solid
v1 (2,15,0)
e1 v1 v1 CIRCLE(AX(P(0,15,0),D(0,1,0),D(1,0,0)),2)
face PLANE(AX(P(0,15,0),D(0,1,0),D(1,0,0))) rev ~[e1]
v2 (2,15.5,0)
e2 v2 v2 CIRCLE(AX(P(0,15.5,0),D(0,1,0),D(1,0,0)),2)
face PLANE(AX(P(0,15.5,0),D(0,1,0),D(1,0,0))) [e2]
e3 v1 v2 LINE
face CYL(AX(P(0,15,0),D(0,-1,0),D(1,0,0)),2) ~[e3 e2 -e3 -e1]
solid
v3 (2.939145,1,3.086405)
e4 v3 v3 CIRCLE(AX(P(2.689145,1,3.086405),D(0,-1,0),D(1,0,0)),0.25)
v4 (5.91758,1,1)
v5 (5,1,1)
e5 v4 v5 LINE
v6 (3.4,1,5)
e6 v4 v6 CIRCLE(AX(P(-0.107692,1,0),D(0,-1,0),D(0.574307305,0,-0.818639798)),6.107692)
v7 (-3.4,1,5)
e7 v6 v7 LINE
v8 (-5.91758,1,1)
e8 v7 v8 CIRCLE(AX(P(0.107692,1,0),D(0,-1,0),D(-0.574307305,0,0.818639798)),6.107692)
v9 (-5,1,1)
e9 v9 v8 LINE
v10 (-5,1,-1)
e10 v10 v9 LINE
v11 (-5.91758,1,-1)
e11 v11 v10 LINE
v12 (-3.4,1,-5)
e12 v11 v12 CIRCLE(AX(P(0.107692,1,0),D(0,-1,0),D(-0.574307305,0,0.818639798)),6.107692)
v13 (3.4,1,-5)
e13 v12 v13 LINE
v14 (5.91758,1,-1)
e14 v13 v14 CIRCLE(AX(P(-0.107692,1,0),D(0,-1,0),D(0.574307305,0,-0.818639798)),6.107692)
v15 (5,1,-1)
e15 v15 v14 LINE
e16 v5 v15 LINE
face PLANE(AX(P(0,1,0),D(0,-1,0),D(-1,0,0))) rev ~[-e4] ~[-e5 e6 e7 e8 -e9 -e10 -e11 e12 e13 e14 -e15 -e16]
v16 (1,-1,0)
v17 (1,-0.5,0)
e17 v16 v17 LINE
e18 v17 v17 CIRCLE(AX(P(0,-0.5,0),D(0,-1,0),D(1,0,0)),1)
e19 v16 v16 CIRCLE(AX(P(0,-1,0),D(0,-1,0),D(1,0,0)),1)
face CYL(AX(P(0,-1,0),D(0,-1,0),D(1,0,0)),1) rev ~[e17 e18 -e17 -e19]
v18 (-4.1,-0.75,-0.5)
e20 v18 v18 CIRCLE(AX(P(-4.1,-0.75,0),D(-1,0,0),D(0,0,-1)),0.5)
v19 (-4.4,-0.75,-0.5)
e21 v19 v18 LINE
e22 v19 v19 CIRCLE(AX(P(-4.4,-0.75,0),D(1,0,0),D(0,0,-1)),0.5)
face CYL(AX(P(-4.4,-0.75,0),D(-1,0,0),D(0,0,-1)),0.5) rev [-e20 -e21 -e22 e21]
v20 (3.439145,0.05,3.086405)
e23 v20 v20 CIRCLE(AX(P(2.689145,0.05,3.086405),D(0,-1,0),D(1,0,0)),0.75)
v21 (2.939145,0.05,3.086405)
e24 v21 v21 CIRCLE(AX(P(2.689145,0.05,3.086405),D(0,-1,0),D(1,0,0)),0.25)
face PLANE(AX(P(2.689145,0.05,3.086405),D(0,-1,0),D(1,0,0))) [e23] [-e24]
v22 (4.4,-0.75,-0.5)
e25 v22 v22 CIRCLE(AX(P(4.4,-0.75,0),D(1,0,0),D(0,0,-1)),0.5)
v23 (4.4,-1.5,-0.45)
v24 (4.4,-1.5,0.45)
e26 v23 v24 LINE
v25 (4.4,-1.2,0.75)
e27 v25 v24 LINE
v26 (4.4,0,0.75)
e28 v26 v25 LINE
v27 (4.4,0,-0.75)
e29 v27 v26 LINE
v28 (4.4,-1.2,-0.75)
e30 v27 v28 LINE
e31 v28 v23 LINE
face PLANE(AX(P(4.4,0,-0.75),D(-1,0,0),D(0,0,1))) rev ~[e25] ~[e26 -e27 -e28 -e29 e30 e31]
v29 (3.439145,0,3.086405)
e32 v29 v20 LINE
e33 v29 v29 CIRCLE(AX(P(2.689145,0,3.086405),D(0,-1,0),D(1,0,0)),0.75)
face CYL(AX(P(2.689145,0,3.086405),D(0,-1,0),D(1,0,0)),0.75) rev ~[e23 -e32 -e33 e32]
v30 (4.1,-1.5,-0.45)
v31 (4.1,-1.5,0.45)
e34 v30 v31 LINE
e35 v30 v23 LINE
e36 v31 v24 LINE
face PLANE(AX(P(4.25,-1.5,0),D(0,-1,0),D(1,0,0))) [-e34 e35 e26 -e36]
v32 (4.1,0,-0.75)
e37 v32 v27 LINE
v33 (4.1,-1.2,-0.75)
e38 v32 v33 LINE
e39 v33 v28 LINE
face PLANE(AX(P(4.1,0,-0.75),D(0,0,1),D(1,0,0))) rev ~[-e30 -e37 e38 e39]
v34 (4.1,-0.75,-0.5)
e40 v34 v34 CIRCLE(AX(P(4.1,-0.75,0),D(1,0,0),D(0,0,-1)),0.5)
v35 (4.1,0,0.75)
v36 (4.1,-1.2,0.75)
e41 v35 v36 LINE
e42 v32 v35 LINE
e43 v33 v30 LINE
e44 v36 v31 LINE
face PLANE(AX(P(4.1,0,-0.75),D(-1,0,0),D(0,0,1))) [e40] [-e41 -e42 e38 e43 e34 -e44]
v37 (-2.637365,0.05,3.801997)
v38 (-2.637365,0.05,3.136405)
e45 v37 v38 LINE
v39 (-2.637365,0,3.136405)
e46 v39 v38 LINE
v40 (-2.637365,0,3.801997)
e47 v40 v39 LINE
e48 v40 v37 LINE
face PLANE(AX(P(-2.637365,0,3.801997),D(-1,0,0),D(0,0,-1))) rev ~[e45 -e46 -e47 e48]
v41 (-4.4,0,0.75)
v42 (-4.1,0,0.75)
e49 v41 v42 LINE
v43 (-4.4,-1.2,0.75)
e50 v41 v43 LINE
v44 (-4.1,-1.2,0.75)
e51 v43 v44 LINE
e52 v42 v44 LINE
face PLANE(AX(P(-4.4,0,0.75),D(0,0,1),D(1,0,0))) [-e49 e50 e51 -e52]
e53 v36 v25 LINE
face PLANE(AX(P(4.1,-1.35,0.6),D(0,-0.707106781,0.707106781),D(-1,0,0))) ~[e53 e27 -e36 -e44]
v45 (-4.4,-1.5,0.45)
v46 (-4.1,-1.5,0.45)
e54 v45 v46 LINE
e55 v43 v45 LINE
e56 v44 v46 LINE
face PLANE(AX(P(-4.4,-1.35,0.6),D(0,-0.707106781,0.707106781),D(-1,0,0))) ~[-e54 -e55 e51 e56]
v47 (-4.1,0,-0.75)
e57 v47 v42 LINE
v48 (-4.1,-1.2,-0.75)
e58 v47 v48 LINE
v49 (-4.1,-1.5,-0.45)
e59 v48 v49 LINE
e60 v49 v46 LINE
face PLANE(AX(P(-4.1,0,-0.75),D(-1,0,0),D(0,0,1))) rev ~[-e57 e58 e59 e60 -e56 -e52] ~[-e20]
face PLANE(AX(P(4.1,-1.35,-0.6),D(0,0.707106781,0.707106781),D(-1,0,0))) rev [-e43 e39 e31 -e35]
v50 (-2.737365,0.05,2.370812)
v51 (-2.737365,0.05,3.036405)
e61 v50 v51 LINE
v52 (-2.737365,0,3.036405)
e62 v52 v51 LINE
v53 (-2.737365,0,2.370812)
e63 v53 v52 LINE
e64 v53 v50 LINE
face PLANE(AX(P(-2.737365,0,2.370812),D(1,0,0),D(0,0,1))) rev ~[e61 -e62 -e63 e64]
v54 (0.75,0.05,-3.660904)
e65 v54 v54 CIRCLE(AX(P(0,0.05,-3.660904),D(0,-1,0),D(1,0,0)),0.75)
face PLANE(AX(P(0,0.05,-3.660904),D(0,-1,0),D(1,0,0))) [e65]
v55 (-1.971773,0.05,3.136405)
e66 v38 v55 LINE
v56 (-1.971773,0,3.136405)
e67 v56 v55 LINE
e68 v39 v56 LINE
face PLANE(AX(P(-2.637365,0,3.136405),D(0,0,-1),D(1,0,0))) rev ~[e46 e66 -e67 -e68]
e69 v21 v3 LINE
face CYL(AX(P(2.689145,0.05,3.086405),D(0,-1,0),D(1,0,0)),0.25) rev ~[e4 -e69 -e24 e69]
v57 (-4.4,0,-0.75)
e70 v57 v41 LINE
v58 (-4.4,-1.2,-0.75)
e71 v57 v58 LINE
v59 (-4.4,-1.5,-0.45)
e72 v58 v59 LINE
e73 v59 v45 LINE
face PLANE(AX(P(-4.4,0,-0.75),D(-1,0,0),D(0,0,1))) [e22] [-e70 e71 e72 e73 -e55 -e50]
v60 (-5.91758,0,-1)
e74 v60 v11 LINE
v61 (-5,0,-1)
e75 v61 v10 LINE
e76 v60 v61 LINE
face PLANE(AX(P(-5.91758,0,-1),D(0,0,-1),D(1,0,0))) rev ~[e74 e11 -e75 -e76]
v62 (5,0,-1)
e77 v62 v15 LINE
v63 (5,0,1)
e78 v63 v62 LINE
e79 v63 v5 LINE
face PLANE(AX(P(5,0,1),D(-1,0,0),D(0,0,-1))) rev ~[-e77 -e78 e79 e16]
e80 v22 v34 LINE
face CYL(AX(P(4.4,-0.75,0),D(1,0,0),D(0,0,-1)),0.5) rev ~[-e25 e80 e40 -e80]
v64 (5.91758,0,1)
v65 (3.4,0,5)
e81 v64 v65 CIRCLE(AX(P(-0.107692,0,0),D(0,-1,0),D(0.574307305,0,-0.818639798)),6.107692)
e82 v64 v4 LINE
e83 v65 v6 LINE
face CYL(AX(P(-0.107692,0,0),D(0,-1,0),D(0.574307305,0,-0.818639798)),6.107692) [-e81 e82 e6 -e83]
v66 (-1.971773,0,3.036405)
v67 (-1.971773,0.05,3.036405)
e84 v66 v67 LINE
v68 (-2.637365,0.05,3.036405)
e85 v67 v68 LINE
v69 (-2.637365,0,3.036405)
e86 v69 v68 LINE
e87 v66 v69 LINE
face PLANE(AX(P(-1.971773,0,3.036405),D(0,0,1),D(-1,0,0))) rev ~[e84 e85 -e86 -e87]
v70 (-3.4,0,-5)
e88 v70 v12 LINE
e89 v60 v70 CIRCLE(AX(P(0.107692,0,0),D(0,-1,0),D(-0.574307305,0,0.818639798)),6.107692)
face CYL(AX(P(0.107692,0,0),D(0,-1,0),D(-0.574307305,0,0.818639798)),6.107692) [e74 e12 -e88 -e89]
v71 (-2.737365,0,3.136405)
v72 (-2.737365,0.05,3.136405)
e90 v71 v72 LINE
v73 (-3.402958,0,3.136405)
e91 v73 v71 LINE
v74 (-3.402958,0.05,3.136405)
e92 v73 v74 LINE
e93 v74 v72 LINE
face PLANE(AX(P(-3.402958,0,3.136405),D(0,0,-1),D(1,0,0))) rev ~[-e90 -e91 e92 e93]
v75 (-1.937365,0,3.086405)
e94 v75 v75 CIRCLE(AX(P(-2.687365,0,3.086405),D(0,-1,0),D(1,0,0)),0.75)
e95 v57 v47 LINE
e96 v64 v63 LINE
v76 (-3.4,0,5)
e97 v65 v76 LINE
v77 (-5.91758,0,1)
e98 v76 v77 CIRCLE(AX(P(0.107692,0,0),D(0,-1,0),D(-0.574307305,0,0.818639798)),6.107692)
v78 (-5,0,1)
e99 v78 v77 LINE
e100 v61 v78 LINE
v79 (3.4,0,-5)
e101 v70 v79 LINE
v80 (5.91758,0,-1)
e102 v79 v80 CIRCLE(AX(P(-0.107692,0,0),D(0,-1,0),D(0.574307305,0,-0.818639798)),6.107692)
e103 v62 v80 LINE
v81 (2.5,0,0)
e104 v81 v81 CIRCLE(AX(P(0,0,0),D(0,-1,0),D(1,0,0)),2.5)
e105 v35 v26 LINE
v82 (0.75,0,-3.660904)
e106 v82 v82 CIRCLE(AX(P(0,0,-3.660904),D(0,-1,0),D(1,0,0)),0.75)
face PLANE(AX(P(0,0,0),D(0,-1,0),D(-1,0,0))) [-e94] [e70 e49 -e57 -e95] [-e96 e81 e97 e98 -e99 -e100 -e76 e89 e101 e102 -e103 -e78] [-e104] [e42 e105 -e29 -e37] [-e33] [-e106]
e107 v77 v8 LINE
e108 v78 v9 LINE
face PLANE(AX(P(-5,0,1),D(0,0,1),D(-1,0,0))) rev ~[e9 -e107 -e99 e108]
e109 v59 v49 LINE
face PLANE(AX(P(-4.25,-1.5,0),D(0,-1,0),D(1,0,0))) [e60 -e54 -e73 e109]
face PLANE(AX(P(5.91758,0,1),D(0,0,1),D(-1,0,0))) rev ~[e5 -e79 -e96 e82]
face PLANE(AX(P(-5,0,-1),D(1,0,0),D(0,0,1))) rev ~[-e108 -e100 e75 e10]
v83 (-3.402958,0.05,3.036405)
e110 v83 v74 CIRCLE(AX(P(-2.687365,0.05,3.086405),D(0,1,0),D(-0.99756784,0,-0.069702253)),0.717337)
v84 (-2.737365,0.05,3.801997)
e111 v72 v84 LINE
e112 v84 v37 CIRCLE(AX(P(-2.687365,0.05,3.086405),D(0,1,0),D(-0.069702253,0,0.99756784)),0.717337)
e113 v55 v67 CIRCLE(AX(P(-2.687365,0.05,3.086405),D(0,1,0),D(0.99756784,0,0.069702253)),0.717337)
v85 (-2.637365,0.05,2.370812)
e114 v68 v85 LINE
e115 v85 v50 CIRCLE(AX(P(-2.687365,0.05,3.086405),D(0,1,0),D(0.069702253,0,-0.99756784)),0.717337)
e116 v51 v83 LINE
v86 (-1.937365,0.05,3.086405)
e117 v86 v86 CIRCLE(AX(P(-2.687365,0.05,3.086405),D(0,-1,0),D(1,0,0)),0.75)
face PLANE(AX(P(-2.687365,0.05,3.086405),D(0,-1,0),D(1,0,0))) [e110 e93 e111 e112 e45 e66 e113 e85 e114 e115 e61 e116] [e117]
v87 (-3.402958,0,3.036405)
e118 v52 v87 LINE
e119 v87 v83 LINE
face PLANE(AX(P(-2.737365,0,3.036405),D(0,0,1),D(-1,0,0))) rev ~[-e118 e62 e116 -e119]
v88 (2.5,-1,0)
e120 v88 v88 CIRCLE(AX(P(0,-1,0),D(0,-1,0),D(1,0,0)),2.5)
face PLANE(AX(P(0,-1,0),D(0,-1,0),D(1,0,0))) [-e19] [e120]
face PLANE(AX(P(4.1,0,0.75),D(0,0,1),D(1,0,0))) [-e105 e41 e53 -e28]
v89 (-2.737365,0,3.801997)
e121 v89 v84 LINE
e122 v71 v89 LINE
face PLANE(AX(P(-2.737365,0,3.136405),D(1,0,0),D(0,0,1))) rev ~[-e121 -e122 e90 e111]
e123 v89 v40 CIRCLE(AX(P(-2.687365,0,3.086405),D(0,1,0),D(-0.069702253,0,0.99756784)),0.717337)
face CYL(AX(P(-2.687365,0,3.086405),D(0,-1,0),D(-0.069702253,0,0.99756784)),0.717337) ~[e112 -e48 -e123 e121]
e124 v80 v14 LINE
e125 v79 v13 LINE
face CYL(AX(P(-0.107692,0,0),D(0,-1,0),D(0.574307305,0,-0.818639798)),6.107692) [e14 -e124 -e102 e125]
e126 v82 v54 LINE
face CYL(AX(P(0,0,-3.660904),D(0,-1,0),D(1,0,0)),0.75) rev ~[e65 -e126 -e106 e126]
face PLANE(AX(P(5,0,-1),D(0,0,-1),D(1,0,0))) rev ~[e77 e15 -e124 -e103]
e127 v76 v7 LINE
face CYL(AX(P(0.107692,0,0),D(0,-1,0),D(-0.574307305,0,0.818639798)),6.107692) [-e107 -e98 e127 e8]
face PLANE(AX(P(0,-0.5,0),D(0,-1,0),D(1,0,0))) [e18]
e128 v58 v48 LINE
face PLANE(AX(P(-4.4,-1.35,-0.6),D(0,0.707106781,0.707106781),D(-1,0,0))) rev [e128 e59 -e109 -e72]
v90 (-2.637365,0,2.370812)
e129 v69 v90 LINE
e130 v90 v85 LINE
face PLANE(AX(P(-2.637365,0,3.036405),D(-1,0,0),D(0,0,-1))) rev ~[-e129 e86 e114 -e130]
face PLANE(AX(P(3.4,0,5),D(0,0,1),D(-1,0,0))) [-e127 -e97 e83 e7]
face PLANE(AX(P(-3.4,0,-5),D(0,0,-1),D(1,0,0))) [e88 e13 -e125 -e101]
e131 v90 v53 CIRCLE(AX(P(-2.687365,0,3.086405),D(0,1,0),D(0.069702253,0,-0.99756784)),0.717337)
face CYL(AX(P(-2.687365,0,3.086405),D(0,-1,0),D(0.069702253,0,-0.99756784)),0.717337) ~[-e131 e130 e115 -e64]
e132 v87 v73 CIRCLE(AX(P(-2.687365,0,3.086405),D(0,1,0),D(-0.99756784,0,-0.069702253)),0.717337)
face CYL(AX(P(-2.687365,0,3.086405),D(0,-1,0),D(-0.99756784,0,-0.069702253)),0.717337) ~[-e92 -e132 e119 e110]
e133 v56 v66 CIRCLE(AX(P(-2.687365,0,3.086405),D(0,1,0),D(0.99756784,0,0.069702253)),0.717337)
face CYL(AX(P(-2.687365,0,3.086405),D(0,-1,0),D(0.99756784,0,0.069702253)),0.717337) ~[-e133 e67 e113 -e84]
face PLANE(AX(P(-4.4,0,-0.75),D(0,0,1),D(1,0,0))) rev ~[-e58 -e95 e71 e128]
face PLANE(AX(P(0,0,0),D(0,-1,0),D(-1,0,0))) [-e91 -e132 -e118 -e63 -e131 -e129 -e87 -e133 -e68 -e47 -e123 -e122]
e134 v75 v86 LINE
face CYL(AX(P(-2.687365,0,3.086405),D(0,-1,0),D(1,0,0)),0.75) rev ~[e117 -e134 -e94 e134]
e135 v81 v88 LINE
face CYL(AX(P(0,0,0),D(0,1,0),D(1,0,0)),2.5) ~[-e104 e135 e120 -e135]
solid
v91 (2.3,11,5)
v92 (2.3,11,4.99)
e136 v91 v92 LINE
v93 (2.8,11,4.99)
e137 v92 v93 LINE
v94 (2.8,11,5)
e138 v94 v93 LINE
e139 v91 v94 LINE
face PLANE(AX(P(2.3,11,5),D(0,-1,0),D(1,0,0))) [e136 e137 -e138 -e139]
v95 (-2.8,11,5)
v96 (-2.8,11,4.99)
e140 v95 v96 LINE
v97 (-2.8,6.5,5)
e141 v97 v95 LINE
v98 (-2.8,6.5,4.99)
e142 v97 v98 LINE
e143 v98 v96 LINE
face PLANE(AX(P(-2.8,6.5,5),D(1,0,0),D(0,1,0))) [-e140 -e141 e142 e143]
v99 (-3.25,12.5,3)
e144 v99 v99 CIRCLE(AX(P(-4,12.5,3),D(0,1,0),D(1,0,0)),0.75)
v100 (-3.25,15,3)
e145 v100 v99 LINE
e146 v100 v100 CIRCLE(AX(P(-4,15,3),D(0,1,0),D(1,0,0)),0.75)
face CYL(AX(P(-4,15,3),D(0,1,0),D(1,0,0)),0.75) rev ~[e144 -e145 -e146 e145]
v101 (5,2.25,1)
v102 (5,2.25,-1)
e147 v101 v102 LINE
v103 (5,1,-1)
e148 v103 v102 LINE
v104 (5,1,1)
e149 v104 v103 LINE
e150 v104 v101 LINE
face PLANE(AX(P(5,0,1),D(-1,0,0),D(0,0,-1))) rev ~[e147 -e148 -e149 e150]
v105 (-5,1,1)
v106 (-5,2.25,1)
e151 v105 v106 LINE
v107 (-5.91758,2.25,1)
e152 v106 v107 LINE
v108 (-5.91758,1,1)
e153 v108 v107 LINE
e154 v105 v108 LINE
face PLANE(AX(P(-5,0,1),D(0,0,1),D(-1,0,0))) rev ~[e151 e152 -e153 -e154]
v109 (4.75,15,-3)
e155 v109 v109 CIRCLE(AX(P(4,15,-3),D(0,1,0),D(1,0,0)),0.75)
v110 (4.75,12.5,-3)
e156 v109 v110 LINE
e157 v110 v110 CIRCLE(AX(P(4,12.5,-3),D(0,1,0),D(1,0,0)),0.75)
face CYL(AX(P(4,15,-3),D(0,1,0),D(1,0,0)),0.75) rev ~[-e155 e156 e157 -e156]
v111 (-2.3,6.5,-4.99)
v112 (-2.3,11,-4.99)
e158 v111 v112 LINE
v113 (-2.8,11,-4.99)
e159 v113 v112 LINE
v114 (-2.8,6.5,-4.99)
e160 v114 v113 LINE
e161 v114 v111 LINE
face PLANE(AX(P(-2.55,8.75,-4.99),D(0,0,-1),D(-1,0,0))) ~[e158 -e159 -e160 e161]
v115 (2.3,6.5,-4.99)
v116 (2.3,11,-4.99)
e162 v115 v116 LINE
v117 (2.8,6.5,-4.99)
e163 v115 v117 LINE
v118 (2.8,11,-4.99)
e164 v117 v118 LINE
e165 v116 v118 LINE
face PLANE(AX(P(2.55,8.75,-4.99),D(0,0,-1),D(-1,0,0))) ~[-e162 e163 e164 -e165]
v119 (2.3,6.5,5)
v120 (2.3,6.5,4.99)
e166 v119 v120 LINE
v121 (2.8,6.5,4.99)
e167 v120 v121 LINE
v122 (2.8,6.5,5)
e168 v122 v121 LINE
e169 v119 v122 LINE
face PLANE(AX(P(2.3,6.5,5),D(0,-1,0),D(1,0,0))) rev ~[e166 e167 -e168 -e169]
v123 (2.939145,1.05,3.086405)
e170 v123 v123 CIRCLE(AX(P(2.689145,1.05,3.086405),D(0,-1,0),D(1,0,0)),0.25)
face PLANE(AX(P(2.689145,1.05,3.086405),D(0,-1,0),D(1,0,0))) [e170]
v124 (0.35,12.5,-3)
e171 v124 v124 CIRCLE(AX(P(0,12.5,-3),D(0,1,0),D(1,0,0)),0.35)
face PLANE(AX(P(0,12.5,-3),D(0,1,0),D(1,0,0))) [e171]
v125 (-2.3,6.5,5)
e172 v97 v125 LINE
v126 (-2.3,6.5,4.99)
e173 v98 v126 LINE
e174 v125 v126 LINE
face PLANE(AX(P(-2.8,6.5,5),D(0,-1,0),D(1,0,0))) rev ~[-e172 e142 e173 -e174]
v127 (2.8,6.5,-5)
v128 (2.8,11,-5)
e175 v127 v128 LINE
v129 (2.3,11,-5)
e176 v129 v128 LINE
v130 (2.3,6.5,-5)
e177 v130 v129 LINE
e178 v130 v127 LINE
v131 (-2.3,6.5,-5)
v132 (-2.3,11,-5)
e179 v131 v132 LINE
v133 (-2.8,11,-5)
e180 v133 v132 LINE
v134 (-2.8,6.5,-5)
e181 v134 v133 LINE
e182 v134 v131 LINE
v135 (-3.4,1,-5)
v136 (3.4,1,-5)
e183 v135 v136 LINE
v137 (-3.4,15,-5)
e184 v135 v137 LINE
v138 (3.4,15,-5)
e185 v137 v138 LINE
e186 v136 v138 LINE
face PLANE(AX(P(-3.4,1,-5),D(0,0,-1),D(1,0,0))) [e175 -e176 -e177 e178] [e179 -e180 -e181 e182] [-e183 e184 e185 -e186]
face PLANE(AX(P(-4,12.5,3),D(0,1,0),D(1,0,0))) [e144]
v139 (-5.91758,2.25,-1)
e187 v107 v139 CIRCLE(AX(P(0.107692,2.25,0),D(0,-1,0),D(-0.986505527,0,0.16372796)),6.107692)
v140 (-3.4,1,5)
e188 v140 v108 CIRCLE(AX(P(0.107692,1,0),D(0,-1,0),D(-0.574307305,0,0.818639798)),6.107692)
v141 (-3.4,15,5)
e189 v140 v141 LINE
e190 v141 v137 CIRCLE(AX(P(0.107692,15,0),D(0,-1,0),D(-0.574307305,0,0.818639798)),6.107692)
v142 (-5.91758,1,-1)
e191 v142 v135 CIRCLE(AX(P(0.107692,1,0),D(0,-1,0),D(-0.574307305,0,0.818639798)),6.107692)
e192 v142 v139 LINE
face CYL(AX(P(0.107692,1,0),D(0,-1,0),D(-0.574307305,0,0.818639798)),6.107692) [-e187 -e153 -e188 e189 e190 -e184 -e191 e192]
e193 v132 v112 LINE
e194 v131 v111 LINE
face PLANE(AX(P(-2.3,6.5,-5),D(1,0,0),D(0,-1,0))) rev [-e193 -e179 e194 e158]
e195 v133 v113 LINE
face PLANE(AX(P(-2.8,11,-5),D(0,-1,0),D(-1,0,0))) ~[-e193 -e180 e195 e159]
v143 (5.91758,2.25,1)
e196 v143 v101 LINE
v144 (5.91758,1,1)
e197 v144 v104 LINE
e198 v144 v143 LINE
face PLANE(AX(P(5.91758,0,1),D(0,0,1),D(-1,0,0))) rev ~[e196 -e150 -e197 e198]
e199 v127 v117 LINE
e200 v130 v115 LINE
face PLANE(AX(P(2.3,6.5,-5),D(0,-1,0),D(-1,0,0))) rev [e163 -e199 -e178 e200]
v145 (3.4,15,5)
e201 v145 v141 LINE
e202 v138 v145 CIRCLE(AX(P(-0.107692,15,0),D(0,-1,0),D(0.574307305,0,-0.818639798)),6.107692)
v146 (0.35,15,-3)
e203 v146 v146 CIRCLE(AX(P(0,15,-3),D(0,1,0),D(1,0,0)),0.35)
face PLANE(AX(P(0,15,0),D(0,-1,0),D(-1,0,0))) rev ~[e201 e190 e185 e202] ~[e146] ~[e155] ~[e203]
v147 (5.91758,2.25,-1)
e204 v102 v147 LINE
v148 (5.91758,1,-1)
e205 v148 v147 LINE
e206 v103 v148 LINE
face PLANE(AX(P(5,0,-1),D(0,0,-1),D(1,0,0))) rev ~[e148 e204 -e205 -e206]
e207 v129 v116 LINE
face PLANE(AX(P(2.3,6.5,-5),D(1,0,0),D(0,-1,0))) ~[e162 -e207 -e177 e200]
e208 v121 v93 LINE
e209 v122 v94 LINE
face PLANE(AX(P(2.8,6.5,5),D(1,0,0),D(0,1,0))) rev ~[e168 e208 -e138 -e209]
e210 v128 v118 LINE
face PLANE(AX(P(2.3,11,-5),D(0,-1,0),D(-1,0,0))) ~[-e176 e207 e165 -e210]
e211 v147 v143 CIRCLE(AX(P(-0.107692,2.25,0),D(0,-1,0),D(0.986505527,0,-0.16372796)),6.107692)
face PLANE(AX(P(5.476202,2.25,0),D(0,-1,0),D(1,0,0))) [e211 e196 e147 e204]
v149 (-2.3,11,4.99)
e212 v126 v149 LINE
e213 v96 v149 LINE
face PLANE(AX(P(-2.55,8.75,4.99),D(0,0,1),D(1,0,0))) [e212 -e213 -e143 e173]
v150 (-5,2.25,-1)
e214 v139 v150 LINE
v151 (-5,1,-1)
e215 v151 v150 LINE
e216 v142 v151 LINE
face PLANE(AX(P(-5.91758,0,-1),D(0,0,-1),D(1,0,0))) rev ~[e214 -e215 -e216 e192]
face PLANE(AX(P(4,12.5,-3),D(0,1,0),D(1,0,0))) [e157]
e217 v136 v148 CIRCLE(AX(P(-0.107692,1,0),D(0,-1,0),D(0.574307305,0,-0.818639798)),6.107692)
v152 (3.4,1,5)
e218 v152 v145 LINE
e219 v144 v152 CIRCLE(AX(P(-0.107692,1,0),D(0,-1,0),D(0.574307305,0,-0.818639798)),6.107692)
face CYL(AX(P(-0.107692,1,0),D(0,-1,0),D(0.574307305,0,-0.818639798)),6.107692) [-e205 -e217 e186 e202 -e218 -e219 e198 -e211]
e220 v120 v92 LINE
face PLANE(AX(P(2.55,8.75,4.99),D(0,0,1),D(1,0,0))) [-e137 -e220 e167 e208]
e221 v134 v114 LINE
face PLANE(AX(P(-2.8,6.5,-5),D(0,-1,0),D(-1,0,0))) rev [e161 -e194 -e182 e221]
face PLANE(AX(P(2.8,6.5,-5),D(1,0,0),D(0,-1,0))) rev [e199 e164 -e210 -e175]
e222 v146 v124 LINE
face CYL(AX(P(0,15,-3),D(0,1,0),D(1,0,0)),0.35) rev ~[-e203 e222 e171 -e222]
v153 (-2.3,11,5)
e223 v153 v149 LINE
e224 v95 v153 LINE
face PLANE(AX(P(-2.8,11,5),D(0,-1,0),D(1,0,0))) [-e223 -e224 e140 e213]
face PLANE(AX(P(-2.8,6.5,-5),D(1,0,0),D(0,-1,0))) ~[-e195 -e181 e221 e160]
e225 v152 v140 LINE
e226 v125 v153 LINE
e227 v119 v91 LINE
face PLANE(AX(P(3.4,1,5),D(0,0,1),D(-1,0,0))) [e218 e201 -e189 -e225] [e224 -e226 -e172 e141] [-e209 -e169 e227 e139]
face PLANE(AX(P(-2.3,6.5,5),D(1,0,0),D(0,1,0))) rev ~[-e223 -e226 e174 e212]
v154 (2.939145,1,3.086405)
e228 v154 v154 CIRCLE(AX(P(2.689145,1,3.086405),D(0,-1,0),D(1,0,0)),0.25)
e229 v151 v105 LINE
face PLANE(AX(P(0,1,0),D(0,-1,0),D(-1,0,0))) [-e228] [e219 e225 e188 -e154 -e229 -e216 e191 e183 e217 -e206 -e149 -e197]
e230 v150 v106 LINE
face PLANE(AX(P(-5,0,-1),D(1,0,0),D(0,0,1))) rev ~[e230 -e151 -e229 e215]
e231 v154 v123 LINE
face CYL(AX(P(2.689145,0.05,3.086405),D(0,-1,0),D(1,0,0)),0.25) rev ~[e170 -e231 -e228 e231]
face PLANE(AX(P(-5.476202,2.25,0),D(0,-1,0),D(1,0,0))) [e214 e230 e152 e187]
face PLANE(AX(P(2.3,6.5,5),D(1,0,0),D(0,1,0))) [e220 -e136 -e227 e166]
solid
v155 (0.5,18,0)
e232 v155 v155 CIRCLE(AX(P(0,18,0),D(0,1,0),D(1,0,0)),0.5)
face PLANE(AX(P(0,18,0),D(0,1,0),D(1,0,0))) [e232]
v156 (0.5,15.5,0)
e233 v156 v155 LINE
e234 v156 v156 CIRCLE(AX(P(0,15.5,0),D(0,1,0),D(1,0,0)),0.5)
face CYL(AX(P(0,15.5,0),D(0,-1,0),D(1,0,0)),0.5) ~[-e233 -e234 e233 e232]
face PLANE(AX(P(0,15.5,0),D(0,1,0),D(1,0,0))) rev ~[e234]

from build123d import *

# Parameters (mm, degrees)
SALIENTE_EXTRUIR1_DEPTH = 1
SALIENTE_EXTRUIR2_DEPTH = 14
CROQUIS3_W              = 0.5
CROQUIS3_H              = 4.5
CORTAR_EXTRUIR1_DEPTH   = 0.01
CORTAR_EXTRUIR2_DEPTH   = 2.25
CROQUIS5_R              = 2.5
SALIENTE_EXTRUIR3_DEPTH = 1
CROQUIS6_R              = 1
CORTAR_EXTRUIR3_DEPTH   = 0.5
CROQUIS7_W              = 0.3
CROQUIS7_H              = 1.5
SALIENTE_EXTRUIR4_DEPTH = 1.5
CROQUIS8_R              = 0.5
CORTAR_EXTRUIR4_DEPTH   = 1
CHAFL_N1_SIZE           = 0.3
CROQUIS9_R              = 0.75
CORTAR_EXTRUIR5_DEPTH   = 0.05
CROQUIS10_R             = 0.25
CORTAR_EXTRUIR6_DEPTH   = 1
CROQUIS11_R             = 0.75
CORTAR_EXTRUIR7_DEPTH   = 0.05
CROQUIS12_R             = 2
SALIENTE_EXTRUIR5_DEPTH = 0.5
CROQUIS13_R             = 0.5
SALIENTE_EXTRUIR6_DEPTH = 2.5
CROQUIS14_R             = 0.75
CROQUIS14_R_2           = 0.35
CORTAR_EXTRUIR8_DEPTH   = 2.5


with BuildPart() as part:
    # Croquis1 → Saliente-Extruir1 (new body)
    with BuildSketch(Plane(origin=(0, 0, 0), x_dir=(1, 0, 0), z_dir=(0, 1, 0))):
        with BuildLine():
            Line((-3.4, 5), (3.4, 5))
            ThreePointArc((3.4, 5), (6, 0), (3.4, -5))
            Line((3.4, -5), (-3.4, -5))
            ThreePointArc((-3.4, -5), (-6, 0), (-3.4, 5))
        make_face()
    extrude(amount=SALIENTE_EXTRUIR1_DEPTH)


with BuildPart() as body_2:
    # Croquis2 → Saliente-Extruir2 (new body)
    with BuildSketch(Plane(origin=(0, 1, 0), x_dir=(1, 0, 0), z_dir=(0, 1, 0))):
        with BuildLine():
            Line((-3.4, 5), (3.4, 5))
            ThreePointArc((3.4, 5), (6, 0), (3.4, -5))
            Line((3.4, -5), (-3.4, -5))
            ThreePointArc((-3.4, -5), (-6, 0), (-3.4, 5))
        make_face()
    extrude(amount=SALIENTE_EXTRUIR2_DEPTH)

    # Croquis3 → Cortar-Extruir1 (cut)
    with BuildSketch(Plane.XY.offset(5)):
        with Locations((-2.55, 8.75)):
            Rectangle(CROQUIS3_W, CROQUIS3_H)
        with Locations((2.55, 8.75)):
            Rectangle(CROQUIS3_W, CROQUIS3_H)
    cortar_extruir1 = extrude(amount=-CORTAR_EXTRUIR1_DEPTH, mode=Mode.SUBTRACT)

    # Simetría2: Cortar-Extruir1 across plane
    add(cortar_extruir1.mirror(Plane.XY), mode=Mode.SUBTRACT)


with BuildPart() as cortar_extruir2_tool:
    # Croquis4 → Cortar-Extruir2 (new body)
    with BuildSketch(Plane.XZ):
        with BuildLine():
            Line((5, 1), (5, -1))
            Line((5, -1), (5.917579912, -1))
            ThreePointArc((5.917579912, -1), (6, 0), (5.917579912, 1))
            Line((5.917579912, 1), (5, 1))
        make_face()
        with BuildLine():
            Line((-5, 1), (-5.917579912, 1))
            ThreePointArc((-5.917579912, 1), (-6, 0), (-5.917579912, -1))
            Line((-5.917579912, -1), (-5, -1))
            Line((-5, -1), (-5, 1))
        make_face()
    extrude(amount=-CORTAR_EXTRUIR2_DEPTH)


with BuildPart() as part_1:
    add(part.part)

    # Cortar-Extruir2: cut by cortar_extruir2_tool
    add(cortar_extruir2_tool.part, mode=Mode.SUBTRACT)

    # Croquis5 → Saliente-Extruir3 (add)
    with BuildSketch(Plane.XZ):
        Circle(CROQUIS5_R)
    extrude(amount=SALIENTE_EXTRUIR3_DEPTH)

    # Croquis6 → Cortar-Extruir3 (cut)
    with BuildSketch(Plane.XZ.offset(1)):
        Circle(CROQUIS6_R)
    extrude(amount=-CORTAR_EXTRUIR3_DEPTH, mode=Mode.SUBTRACT)

    # Croquis7 → Saliente-Extruir4 (add)
    with BuildSketch(Plane.XZ):
        with Locations((4.25, 0)):
            Rectangle(CROQUIS7_W, CROQUIS7_H)
        with Locations((-4.25, 0)):
            Rectangle(CROQUIS7_W, CROQUIS7_H)
    extrude(amount=SALIENTE_EXTRUIR4_DEPTH)

    # Croquis8 → Cortar-Extruir4 (cut)
    with BuildSketch(Plane(origin=(4.4, 0, 0), x_dir=(0, 0, -1), z_dir=(1, 0, 0))):
        with Locations((0, -0.75)):
            Circle(CROQUIS8_R)
    cortar_extruir4 = extrude(amount=-CORTAR_EXTRUIR4_DEPTH, mode=Mode.SUBTRACT)

    # Simetría3: Cortar-Extruir4 across plane
    add(cortar_extruir4.mirror(Plane(origin=(0, 0, 0), x_dir=(0, 0, 1), z_dir=(1, 0, 0))), mode=Mode.SUBTRACT)

    # Chaflán1
    chafl_n1_edges = [part_1.edges().sort_by_distance(p)[0] for p in [
        (4.25, -1.5, 0.75),
        (4.25, -1.5, -0.75),
        (-4.25, -1.5, 0.75),
        (-4.25, -1.5, -0.75),
    ]]
    chamfer(chafl_n1_edges, length=CHAFL_N1_SIZE)

    # Croquis9 → Cortar-Extruir5 (cut)
    with BuildSketch(Plane.XZ):
        with Locations((2.689144547, 3.086404537)):
            Circle(CROQUIS9_R)
        with Locations((0, -3.660903599)):
            Circle(CROQUIS9_R)
    extrude(amount=-CORTAR_EXTRUIR5_DEPTH, mode=Mode.SUBTRACT)


with BuildPart() as body_2_1:
    add(body_2.part)

    # Cortar-Extruir2: cut by cortar_extruir2_tool
    add(cortar_extruir2_tool.part, mode=Mode.SUBTRACT)


with BuildPart() as cortar_extruir6_tool:
    # Croquis10 → Cortar-Extruir6 (new body)
    with BuildSketch(Plane.XZ.offset(-0.05)):
        with Locations((2.689144547, 3.086404537)):
            Circle(CROQUIS10_R)
    extrude(amount=-CORTAR_EXTRUIR6_DEPTH)


with BuildPart() as part_2:
    add(part_1.part)

    # Cortar-Extruir6: cut by cortar_extruir6_tool
    add(cortar_extruir6_tool.part, mode=Mode.SUBTRACT)

    # Croquis11 → Cortar-Extruir7 (cut)
    with BuildSketch(Plane.XZ):
        with Locations((-2.687365336, 3.086404537)):
            Circle(CROQUIS11_R)
        with BuildLine():
            Line((-2.637365336, 3.794778488), (-2.637365336, 3.136404537))
            Line((-2.637365336, 3.136404537), (-1.97177306, 3.136404537))
            ThreePointArc((-1.97177306, 3.136404537), (-1.970028382, 3.086404537), (-1.97177306, 3.036404537))
            Line((-1.97177306, 3.036404537), (-2.637365336, 3.036404537))
            Line((-2.637365336, 3.036404537), (-2.637365336, 2.378030586))
            Line((-2.637365336, 2.378030586), (-2.637365336, 2.370812261))
            ThreePointArc((-2.637365336, 2.370812261), (-2.687365336, 2.369067583), (-2.737365336, 2.370812261))
            Line((-2.737365336, 2.370812261), (-2.737365336, 2.378030586))
            Line((-2.737365336, 2.378030586), (-2.737365336, 3.036404537))
            Line((-2.737365336, 3.036404537), (-3.402957612, 3.036404537))
            ThreePointArc((-3.402957612, 3.036404537), (-3.40470229, 3.086404537), (-3.402957612, 3.136404537))
            Line((-3.402957612, 3.136404537), (-2.737365336, 3.136404537))
            Line((-2.737365336, 3.136404537), (-2.737365336, 3.794778488))
            Line((-2.737365336, 3.794778488), (-2.737365336, 3.801996813))
            ThreePointArc((-2.737365336, 3.801996813), (-2.687365336, 3.803741491), (-2.637365336, 3.801996813))
            Line((-2.637365336, 3.801996813), (-2.637365336, 3.794778488))
        make_face(mode=Mode.SUBTRACT)
    extrude(amount=-CORTAR_EXTRUIR7_DEPTH, mode=Mode.SUBTRACT)


with BuildPart() as body_2_2:
    add(body_2_1.part)

    # Cortar-Extruir6: cut by cortar_extruir6_tool
    add(cortar_extruir6_tool.part, mode=Mode.SUBTRACT)

    # Croquis14 → Cortar-Extruir8 (cut)
    with BuildSketch(Plane(origin=(0, 15, 0), x_dir=(1, 0, 0), z_dir=(0, 1, 0))):
        with Locations((-4, -3)):
            Circle(CROQUIS14_R)
        with Locations((4, 3)):
            Circle(CROQUIS14_R)
        with Locations((0, 3)):
            Circle(CROQUIS14_R_2)
    extrude(amount=-CORTAR_EXTRUIR8_DEPTH, mode=Mode.SUBTRACT)


with BuildPart() as body_3:
    # Croquis12 → Saliente-Extruir5 (new body)
    with BuildSketch(Plane(origin=(0, 15, 0), x_dir=(1, 0, 0), z_dir=(0, 1, 0))):
        Circle(CROQUIS12_R)
    extrude(amount=SALIENTE_EXTRUIR5_DEPTH)


with BuildPart() as body_4:
    # Croquis13 → Saliente-Extruir6 (new body)
    with BuildSketch(Plane(origin=(0, 15.5, 0), x_dir=(1, 0, 0), z_dir=(0, 1, 0))):
        Circle(CROQUIS13_R)
    extrude(amount=SALIENTE_EXTRUIR6_DEPTH)


solid = Compound([part_2.part, body_2_2.part, body_3.part, body_4.part])
